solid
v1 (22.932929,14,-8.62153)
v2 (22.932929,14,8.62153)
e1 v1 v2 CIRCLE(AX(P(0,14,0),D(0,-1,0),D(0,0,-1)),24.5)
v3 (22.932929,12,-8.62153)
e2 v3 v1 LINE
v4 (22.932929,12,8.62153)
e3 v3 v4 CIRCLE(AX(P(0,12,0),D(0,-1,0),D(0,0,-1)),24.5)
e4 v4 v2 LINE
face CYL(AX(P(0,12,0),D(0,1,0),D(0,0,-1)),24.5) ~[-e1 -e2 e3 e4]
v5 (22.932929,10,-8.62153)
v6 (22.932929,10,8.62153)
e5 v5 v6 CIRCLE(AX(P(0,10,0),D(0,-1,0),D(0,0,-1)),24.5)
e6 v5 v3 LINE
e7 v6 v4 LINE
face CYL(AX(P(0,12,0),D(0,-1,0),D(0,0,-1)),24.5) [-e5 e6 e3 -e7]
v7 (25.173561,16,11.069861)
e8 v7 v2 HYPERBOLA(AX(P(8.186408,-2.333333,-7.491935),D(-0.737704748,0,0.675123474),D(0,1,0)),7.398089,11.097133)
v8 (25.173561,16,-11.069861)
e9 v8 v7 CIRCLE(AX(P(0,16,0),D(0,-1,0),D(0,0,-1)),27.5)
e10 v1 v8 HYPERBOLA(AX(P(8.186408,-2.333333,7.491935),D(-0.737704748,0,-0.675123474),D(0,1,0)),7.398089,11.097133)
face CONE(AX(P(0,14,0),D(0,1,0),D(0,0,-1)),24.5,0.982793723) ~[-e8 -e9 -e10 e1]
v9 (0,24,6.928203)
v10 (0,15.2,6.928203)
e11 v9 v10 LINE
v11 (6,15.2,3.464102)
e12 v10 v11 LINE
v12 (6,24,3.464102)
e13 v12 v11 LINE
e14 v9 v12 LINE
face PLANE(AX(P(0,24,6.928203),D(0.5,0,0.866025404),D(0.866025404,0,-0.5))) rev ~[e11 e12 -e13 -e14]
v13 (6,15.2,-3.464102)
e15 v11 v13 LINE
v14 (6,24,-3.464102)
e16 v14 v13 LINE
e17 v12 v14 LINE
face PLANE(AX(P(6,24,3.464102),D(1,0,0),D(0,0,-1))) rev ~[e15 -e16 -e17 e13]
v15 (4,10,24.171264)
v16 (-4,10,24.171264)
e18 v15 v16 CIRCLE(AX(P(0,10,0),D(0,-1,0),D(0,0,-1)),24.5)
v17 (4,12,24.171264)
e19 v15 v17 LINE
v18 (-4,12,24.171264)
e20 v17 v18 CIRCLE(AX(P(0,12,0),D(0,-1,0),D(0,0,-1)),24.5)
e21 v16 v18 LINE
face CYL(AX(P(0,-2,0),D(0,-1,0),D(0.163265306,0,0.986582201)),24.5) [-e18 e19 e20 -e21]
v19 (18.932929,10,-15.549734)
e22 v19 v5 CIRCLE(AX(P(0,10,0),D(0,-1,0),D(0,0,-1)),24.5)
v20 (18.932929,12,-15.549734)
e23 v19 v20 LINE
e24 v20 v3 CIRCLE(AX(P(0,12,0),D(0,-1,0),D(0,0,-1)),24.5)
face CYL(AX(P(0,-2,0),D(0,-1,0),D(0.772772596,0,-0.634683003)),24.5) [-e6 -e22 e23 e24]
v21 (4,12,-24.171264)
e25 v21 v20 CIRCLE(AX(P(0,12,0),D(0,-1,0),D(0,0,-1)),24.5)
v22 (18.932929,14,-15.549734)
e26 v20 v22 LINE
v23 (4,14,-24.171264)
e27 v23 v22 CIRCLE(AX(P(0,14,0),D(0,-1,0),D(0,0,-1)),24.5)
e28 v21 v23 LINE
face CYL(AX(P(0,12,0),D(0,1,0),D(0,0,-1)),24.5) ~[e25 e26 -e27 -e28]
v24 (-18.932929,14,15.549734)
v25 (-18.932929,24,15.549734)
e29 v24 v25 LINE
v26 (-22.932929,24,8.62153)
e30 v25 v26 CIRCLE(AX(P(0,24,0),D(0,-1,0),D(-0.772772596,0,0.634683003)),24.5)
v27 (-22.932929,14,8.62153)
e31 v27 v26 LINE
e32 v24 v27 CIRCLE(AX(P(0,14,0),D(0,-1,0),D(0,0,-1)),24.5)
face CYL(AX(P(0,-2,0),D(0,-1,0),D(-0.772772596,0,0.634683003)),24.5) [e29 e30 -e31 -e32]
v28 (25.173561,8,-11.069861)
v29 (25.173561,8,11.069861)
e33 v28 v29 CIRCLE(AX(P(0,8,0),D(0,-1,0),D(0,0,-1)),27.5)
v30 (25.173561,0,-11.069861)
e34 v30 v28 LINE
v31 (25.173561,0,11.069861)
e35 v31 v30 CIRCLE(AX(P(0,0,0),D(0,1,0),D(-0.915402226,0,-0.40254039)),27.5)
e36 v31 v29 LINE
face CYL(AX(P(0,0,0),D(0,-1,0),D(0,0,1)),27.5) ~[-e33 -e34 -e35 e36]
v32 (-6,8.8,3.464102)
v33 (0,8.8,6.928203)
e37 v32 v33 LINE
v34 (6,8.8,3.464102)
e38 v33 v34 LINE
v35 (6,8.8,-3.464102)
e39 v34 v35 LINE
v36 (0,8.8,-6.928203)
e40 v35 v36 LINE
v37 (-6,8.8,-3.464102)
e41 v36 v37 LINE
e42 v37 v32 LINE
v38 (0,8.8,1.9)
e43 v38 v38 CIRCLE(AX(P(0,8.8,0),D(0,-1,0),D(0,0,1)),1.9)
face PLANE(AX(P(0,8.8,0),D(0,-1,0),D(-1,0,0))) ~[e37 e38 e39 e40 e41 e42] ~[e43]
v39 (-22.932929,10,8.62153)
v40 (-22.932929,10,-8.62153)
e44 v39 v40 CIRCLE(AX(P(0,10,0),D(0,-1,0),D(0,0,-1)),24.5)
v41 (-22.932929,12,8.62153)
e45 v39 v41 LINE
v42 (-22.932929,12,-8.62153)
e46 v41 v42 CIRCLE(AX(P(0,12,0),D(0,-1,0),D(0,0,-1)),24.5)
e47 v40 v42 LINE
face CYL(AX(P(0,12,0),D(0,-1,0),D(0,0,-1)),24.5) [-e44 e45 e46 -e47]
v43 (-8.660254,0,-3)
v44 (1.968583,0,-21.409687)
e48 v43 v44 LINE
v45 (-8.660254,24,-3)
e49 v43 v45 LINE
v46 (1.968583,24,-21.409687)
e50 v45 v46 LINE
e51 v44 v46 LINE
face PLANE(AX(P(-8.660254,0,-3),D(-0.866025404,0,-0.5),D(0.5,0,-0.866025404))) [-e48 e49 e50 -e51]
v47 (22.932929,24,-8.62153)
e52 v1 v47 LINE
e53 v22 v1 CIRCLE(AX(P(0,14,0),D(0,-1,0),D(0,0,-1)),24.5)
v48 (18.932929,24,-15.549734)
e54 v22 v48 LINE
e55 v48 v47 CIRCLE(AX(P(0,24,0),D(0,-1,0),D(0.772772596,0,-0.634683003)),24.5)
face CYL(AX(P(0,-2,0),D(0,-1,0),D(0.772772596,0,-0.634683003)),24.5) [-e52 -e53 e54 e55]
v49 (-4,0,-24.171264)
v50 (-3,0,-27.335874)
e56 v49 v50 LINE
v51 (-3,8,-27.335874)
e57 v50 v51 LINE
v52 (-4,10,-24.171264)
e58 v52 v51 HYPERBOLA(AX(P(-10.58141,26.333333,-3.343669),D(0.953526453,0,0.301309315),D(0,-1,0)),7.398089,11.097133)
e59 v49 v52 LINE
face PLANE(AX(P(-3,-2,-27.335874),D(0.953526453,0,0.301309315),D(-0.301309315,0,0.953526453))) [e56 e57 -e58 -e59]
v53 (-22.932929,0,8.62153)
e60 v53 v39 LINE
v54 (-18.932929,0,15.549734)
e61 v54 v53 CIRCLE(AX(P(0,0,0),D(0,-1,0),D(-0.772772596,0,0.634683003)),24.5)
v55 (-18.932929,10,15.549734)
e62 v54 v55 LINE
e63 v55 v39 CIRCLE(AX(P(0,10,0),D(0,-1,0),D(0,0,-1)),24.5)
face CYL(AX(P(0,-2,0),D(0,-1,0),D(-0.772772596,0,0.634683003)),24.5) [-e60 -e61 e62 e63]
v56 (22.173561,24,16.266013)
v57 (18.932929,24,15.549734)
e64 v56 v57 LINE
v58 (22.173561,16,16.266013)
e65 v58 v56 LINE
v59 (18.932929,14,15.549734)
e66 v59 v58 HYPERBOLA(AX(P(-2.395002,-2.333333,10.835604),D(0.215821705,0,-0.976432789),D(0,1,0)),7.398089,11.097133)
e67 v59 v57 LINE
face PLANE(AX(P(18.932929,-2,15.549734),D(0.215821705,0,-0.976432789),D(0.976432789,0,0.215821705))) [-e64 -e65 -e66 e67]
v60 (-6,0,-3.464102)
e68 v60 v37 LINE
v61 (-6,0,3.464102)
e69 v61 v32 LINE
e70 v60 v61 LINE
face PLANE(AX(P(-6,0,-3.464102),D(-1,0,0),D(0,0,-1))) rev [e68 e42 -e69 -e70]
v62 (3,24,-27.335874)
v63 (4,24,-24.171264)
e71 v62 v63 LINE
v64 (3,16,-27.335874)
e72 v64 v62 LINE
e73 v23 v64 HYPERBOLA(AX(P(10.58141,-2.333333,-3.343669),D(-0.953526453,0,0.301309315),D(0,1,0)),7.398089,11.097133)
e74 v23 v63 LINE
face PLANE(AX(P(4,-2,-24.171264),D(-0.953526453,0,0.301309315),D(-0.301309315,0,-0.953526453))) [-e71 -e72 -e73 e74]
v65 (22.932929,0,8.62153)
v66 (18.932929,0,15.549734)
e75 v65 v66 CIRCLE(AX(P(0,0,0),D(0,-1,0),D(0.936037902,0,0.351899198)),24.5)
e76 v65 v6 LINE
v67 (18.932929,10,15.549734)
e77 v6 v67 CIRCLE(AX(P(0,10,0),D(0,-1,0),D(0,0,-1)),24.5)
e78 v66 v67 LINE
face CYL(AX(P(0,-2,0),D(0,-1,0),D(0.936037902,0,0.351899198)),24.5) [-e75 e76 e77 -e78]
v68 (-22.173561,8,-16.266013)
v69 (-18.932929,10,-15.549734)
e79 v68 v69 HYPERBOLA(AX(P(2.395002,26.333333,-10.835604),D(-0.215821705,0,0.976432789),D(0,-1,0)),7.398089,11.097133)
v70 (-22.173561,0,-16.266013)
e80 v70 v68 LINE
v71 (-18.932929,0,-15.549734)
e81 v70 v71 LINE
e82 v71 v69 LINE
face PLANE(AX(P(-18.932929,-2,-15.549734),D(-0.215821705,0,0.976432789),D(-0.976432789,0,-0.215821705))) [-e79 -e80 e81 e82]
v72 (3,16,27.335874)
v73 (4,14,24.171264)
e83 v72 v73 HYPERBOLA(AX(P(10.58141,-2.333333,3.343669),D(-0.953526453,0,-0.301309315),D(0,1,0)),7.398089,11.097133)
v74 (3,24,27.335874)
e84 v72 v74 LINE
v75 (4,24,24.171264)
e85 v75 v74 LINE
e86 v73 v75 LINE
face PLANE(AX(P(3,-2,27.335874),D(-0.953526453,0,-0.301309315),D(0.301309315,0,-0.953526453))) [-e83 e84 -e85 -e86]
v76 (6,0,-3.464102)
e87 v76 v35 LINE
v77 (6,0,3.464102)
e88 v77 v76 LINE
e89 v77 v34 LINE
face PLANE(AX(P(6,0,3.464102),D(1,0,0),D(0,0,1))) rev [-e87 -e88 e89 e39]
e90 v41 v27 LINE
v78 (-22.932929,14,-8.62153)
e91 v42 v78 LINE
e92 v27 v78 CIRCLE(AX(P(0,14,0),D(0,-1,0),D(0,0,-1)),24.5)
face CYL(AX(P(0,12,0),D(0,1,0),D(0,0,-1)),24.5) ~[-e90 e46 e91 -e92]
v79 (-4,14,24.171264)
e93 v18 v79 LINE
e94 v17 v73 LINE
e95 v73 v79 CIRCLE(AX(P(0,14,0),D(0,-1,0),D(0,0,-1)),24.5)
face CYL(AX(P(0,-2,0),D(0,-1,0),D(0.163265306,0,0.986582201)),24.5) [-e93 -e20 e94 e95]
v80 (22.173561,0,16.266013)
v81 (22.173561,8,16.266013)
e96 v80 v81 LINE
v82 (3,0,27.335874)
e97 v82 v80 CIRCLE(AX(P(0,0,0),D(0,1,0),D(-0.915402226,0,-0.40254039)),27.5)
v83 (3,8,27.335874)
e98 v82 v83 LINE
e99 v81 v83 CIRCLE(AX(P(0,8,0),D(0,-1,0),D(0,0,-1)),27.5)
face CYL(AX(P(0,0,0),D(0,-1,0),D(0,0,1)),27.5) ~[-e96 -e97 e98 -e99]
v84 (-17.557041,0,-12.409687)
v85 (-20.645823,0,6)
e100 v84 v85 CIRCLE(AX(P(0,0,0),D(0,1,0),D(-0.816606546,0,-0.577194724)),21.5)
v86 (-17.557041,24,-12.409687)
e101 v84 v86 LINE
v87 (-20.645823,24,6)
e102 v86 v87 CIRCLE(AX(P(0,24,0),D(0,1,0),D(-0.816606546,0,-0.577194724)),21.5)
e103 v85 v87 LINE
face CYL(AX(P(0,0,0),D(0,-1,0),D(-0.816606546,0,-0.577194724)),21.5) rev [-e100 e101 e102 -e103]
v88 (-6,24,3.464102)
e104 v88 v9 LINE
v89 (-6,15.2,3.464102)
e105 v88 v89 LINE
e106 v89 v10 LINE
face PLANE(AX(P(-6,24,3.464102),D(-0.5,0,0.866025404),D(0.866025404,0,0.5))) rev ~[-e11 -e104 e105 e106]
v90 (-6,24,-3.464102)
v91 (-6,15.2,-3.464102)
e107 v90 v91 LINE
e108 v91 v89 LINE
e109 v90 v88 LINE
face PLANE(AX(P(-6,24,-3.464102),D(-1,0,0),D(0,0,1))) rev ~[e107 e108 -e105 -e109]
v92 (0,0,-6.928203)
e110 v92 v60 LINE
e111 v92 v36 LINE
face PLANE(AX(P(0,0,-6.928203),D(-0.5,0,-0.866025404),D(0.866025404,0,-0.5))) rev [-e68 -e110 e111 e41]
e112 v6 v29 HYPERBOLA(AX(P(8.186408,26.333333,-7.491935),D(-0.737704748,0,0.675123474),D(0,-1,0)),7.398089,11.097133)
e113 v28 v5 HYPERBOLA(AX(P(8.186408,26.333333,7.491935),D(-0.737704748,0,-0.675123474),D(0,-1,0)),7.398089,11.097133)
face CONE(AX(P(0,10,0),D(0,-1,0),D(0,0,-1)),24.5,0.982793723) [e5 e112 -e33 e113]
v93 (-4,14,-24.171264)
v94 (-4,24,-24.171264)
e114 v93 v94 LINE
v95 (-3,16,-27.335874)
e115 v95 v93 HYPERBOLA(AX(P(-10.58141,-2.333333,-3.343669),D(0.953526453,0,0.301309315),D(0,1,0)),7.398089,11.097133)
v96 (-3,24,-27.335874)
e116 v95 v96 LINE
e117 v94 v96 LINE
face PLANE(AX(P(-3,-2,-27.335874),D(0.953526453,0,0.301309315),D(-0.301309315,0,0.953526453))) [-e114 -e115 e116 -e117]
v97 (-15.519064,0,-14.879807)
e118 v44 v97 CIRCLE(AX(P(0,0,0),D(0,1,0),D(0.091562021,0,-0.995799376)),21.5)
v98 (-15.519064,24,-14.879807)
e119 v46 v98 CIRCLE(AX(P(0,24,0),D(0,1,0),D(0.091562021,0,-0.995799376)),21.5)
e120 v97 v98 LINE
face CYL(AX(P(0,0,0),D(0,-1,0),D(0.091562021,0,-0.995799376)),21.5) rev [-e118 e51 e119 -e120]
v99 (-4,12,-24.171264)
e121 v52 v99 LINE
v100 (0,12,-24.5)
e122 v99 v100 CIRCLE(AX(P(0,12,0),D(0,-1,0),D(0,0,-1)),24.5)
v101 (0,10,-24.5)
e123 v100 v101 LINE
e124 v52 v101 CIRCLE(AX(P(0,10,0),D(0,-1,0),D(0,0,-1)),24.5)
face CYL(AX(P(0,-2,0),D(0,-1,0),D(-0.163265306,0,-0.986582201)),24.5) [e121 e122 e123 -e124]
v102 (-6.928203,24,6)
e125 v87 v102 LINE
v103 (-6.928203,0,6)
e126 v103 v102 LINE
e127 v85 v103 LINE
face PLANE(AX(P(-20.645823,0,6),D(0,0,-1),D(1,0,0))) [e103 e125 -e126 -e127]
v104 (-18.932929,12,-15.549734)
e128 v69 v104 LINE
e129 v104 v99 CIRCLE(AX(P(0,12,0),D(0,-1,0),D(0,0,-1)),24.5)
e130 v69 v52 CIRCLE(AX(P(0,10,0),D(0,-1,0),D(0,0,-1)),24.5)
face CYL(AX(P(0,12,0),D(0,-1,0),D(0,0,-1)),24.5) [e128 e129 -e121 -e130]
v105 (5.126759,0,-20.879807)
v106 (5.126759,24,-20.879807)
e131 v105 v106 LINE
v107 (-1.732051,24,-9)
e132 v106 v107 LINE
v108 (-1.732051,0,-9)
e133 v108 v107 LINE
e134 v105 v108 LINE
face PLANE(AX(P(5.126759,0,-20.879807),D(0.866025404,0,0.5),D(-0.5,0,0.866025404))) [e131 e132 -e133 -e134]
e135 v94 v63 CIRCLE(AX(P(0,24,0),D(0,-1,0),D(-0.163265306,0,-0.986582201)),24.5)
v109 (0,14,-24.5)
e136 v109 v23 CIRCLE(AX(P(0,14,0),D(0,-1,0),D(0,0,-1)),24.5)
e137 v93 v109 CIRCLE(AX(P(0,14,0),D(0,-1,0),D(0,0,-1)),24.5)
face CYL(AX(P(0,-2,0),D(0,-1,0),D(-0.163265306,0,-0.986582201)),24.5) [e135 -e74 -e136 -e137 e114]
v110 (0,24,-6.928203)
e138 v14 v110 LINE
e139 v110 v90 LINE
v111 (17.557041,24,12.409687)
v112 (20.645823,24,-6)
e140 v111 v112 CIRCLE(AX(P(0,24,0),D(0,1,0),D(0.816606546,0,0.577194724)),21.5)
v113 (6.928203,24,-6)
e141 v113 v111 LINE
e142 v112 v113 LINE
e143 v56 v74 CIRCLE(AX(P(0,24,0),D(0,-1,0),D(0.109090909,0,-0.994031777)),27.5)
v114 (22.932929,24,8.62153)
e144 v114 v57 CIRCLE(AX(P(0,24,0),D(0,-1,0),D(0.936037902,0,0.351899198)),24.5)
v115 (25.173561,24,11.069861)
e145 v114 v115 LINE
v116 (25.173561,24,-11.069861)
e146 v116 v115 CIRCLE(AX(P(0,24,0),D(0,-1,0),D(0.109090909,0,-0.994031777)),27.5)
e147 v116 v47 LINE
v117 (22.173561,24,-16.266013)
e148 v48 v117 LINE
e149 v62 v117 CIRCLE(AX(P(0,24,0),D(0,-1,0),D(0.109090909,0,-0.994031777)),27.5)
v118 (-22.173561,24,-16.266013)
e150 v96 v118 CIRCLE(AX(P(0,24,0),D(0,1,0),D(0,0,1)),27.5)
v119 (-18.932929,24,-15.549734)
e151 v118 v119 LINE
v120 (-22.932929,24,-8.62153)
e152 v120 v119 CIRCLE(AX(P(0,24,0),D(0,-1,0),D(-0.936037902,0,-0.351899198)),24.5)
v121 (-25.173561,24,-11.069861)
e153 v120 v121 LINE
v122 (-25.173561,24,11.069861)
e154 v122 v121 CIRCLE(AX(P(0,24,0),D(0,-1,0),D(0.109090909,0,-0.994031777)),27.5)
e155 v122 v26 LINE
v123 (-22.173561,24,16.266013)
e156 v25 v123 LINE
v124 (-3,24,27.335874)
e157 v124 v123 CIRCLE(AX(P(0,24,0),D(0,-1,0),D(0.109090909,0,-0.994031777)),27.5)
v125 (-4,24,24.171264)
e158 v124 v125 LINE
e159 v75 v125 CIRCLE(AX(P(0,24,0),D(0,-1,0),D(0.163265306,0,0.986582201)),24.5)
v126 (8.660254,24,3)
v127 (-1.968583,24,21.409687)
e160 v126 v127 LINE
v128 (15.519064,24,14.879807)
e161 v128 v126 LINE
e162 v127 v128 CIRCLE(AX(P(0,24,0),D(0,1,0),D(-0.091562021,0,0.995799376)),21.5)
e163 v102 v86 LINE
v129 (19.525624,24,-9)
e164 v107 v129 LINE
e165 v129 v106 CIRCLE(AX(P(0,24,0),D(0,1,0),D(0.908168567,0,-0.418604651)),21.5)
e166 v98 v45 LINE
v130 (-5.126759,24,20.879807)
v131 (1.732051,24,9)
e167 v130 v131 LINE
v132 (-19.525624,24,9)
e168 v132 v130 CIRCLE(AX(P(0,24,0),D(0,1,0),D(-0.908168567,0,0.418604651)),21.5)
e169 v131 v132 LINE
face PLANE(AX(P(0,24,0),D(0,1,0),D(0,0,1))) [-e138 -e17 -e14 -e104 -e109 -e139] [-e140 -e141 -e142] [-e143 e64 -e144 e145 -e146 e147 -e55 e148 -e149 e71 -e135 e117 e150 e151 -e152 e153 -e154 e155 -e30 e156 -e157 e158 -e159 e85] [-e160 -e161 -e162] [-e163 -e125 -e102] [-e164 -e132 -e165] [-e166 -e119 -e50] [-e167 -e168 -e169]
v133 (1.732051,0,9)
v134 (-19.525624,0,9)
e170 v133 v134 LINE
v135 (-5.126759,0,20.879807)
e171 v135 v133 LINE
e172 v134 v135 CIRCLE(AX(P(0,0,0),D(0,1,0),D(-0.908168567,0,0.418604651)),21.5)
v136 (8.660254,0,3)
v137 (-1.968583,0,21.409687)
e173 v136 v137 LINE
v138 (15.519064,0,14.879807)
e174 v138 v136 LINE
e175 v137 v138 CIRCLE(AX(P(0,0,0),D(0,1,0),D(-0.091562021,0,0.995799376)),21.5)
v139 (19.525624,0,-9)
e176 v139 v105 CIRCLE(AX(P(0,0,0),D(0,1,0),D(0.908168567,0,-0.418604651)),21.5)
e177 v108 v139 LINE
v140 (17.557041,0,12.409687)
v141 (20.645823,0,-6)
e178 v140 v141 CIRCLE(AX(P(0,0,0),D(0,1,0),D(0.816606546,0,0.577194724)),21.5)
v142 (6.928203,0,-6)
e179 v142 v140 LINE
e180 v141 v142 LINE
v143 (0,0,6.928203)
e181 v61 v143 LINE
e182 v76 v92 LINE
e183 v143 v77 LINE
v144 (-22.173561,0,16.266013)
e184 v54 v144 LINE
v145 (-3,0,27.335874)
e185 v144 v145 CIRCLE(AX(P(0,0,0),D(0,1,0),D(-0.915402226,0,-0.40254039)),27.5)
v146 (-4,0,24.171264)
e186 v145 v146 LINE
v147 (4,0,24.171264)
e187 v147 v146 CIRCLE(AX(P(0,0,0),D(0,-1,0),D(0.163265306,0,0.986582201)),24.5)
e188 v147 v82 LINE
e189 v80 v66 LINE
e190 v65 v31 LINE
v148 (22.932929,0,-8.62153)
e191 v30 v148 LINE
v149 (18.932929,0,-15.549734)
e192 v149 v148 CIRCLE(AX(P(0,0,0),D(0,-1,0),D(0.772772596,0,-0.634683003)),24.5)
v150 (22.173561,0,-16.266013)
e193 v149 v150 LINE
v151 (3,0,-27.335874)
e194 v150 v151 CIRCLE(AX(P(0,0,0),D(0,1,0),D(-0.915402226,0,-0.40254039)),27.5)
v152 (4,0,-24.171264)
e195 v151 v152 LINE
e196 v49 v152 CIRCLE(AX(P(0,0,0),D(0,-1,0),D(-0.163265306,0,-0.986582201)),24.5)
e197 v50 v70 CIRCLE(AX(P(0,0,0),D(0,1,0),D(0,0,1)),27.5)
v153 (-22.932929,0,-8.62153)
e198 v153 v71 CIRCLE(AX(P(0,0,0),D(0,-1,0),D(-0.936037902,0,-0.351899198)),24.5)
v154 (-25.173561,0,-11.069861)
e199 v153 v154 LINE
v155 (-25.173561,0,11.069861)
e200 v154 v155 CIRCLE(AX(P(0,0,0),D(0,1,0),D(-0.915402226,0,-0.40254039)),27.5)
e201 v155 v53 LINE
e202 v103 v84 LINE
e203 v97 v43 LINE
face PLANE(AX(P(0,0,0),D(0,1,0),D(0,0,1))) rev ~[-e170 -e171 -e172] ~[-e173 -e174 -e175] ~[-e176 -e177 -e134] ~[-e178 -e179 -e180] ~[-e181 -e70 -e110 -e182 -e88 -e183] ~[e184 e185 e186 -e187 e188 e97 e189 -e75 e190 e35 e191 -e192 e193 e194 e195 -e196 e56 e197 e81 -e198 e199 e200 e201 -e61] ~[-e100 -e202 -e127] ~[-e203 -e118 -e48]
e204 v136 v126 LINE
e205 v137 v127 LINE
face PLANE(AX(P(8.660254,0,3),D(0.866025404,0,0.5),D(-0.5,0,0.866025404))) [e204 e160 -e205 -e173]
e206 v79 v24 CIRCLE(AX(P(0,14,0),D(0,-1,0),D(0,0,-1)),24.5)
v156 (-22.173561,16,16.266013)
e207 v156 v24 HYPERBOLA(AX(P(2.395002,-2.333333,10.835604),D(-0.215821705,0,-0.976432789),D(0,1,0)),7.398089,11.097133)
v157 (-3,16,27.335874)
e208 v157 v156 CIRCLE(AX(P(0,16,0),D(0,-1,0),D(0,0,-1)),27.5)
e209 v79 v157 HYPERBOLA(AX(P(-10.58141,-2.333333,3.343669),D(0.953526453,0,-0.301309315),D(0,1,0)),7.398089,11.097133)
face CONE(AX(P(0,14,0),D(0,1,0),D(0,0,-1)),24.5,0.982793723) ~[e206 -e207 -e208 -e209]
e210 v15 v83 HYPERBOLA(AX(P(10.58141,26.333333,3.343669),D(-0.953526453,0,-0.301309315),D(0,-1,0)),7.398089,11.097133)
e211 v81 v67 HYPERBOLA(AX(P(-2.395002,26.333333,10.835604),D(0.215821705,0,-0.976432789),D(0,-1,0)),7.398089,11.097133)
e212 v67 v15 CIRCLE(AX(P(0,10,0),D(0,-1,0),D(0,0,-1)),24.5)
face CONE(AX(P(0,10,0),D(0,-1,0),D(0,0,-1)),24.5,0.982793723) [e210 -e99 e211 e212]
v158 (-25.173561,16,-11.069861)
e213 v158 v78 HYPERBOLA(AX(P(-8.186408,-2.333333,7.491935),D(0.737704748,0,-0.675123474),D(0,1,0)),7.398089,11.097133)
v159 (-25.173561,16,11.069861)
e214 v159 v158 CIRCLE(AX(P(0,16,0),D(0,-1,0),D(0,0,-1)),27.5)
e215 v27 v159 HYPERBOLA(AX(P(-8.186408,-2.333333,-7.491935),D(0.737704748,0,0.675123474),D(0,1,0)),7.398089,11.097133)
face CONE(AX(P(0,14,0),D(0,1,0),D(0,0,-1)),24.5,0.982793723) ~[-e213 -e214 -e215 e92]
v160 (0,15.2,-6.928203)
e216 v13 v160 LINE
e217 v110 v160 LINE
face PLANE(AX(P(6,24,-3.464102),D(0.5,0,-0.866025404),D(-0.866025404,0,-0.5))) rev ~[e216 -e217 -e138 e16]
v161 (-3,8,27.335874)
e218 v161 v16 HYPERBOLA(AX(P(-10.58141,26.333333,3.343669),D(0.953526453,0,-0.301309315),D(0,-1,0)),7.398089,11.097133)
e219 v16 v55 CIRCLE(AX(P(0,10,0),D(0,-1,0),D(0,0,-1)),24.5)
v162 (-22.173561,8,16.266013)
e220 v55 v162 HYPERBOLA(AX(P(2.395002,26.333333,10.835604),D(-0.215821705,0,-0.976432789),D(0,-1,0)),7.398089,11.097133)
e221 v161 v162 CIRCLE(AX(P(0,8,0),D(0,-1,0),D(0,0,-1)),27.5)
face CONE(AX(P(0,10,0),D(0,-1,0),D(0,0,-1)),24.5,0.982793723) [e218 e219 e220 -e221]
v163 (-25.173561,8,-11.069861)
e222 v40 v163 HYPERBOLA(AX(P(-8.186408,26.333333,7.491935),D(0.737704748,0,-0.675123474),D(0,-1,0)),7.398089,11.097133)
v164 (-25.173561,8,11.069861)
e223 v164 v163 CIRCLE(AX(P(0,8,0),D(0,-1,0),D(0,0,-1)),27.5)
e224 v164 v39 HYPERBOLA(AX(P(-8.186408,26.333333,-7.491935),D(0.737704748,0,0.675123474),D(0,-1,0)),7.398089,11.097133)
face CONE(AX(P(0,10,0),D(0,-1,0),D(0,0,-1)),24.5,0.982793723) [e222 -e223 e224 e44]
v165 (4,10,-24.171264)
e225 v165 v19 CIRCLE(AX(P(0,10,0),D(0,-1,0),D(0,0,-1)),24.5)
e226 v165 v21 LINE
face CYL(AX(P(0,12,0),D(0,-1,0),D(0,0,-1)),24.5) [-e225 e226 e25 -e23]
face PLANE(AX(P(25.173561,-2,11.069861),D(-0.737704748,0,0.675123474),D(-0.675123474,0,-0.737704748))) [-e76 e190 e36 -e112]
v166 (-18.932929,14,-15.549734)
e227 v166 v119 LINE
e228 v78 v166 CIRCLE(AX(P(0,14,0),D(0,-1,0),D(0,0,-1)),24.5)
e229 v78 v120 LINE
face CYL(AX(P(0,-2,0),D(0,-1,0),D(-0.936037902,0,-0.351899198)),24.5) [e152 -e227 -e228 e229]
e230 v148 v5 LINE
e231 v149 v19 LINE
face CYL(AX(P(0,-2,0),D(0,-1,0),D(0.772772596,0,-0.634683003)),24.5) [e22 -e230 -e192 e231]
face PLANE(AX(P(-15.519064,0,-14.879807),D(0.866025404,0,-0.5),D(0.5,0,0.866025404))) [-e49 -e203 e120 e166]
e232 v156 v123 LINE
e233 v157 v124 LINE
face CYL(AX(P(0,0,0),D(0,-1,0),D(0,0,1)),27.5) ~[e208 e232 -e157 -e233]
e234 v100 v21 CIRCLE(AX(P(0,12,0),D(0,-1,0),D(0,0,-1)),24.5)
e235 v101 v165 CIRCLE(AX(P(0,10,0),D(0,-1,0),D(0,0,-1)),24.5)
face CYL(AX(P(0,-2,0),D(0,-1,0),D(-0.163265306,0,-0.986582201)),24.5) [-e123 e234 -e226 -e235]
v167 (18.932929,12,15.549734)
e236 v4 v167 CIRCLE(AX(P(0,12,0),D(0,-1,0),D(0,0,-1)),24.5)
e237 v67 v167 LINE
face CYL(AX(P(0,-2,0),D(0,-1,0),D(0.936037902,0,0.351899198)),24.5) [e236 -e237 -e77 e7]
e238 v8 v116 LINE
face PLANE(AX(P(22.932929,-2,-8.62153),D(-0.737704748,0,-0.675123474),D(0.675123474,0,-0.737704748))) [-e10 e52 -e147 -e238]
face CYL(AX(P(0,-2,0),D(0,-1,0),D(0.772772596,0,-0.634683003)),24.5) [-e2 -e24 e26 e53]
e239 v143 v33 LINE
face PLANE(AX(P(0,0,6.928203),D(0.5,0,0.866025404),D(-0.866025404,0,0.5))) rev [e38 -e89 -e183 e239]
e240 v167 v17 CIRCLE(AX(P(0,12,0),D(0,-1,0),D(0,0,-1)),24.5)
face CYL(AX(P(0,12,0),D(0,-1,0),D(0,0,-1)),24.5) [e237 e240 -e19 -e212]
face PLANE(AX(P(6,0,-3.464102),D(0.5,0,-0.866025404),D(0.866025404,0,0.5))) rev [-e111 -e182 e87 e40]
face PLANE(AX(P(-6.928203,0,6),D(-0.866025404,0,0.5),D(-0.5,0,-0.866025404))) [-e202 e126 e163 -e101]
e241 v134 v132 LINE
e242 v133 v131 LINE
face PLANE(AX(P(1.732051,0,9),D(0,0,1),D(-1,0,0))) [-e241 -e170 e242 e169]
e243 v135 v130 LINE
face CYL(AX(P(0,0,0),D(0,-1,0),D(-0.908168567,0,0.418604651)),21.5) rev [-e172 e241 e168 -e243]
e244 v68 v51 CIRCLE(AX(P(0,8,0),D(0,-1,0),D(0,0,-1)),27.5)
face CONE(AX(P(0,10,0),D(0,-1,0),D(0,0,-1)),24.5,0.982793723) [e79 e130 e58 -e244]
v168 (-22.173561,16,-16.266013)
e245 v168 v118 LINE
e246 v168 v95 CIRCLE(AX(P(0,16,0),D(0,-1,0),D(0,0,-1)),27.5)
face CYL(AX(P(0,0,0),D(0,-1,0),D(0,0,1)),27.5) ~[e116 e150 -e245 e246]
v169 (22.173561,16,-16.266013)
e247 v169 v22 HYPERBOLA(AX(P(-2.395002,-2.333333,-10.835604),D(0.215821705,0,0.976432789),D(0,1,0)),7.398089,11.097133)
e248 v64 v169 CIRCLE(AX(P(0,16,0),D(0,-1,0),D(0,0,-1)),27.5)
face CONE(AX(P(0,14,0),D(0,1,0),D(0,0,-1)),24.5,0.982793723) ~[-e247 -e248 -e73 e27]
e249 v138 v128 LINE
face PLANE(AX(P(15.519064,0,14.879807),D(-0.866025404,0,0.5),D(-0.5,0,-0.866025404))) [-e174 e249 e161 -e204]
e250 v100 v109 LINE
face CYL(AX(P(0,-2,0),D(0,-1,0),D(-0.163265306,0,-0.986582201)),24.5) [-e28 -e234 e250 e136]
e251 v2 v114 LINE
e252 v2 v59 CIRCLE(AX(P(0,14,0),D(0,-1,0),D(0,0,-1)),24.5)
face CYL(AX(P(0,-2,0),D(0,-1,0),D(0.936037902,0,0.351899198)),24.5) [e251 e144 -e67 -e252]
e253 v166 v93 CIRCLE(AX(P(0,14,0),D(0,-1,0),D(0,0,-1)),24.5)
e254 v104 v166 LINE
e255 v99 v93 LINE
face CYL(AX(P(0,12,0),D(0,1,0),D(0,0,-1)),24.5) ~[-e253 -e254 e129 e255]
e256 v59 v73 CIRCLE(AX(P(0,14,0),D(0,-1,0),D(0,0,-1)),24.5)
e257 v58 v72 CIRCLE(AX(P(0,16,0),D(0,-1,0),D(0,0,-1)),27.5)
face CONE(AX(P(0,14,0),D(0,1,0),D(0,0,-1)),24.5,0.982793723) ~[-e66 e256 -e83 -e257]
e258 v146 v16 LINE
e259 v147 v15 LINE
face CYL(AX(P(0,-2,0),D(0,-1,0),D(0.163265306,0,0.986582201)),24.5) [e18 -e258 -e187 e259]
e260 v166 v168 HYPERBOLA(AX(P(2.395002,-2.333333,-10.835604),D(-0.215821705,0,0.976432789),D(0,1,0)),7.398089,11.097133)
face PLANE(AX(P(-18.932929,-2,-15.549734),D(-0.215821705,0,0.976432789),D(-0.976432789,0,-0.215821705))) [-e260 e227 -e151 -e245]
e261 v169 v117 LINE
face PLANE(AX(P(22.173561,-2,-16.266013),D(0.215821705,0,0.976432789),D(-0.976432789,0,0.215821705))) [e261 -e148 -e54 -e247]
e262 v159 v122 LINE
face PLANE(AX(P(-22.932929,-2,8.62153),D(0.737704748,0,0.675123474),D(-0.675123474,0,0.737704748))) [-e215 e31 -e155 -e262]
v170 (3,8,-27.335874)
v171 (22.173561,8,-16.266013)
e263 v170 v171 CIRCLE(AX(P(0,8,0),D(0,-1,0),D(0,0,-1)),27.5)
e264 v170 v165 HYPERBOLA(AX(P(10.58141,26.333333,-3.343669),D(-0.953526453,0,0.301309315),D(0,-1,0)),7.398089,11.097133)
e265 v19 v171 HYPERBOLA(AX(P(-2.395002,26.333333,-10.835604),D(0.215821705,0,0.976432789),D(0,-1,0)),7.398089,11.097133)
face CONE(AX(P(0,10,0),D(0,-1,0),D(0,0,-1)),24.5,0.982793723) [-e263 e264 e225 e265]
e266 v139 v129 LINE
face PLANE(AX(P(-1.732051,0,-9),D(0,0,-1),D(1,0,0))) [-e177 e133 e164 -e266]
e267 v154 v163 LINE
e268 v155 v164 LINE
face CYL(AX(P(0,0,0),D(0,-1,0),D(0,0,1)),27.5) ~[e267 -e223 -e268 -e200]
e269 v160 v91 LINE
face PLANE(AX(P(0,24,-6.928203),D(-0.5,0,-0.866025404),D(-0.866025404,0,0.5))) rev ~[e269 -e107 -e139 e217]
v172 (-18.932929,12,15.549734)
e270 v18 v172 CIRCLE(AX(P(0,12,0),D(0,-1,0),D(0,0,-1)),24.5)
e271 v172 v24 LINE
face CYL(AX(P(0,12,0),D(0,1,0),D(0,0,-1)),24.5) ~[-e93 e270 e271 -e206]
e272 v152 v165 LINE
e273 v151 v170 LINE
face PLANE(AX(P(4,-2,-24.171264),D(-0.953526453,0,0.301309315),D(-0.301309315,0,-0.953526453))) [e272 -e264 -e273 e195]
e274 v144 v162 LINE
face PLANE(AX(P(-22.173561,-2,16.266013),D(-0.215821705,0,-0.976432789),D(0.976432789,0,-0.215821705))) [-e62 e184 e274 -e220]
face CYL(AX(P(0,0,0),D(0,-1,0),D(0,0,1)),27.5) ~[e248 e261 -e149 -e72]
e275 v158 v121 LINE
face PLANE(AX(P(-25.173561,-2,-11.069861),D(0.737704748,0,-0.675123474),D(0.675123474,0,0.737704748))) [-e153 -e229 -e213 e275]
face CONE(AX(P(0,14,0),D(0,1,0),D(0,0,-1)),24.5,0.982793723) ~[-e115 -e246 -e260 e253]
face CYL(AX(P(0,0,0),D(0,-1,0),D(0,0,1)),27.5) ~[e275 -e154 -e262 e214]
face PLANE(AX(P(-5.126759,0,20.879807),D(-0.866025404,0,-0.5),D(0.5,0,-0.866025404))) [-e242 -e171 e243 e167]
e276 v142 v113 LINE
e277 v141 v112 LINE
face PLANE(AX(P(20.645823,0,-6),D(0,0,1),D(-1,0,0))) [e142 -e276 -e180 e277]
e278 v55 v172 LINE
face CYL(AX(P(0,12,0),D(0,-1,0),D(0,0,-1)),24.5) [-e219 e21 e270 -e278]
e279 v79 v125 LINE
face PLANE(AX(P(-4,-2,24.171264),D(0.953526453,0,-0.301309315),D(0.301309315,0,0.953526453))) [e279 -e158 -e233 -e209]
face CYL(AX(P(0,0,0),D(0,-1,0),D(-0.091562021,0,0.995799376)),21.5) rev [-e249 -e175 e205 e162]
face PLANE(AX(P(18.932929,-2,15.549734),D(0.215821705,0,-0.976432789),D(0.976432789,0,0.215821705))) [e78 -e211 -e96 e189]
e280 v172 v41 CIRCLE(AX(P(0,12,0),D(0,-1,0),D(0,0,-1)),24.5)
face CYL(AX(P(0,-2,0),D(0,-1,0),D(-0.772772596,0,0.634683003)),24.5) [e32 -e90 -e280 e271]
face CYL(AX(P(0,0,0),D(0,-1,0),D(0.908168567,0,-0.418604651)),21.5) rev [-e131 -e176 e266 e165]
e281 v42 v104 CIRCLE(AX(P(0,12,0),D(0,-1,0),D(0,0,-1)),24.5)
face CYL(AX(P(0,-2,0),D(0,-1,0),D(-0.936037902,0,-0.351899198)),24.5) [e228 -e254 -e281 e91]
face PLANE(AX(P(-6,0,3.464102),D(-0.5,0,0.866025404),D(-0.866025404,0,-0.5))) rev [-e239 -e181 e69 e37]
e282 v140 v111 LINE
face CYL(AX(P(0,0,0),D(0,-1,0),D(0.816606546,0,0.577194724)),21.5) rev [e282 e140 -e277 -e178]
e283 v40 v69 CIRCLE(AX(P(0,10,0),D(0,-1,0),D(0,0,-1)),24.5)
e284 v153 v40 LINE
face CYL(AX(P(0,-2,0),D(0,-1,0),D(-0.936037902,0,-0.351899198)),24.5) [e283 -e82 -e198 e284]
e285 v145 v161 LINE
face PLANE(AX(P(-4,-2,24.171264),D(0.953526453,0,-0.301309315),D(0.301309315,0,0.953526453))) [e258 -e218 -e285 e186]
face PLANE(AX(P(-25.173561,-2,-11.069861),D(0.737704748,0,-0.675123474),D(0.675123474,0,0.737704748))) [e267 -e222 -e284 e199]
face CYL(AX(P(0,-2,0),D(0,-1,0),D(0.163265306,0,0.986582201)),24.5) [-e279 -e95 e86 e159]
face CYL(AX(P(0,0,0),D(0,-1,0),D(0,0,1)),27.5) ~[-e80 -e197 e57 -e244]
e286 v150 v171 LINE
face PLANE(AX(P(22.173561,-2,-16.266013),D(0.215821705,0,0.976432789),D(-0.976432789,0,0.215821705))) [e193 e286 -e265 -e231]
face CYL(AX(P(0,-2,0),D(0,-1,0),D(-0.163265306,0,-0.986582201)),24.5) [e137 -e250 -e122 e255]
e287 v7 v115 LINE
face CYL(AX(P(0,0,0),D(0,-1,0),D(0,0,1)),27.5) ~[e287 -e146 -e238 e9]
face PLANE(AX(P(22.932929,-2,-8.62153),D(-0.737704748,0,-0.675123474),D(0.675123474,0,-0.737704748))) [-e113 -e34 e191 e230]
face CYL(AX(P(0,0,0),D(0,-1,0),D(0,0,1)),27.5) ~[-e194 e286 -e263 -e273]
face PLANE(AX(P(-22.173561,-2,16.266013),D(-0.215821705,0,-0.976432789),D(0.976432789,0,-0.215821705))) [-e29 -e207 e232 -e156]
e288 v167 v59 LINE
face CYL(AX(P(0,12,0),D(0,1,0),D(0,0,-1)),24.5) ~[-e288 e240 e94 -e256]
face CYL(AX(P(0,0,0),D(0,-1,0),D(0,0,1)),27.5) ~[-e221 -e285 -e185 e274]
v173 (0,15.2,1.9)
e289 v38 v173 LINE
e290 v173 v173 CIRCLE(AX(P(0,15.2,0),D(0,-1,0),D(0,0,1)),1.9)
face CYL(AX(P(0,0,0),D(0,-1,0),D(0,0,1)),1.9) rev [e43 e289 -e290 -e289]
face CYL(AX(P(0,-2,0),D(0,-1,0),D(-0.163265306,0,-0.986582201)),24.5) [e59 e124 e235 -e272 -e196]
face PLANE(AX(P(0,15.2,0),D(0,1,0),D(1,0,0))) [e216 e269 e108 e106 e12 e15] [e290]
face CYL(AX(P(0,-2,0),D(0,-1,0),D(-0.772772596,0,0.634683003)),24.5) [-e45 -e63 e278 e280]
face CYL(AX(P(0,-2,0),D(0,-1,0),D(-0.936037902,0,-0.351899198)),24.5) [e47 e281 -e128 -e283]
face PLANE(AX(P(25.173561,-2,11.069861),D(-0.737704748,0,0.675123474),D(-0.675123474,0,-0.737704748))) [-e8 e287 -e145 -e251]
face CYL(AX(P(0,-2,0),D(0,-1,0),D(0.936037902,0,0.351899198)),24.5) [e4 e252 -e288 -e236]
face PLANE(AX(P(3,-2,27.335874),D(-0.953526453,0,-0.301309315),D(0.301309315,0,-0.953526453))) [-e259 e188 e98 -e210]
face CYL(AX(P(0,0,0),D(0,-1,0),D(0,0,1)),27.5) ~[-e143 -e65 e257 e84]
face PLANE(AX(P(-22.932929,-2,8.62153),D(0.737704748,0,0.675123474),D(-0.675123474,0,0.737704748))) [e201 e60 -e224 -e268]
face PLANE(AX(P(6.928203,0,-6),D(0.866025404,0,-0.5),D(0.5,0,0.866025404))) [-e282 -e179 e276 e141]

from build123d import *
from build123d.topology import SkipClean

# Parameters (mm, degrees)
SKETCH1_R           = 27.5
BOSS_EXTRUDE1_DEPTH = 24
CUT_EXTRUDE3_START  = -2
CUT_EXTRUDE3_DEPTH  = 48.700109409
CIRPATTERN1_COUNT   = 6
CUT_EXTRUDE4_DEPTH  = 24
CIRPATTERN2_COUNT   = 6
CUT_EXTRUDE5_DEPTH  = 8.8
SKETCH6_R           = 1.9
CUT_EXTRUDE6_DEPTH  = 24


with BuildPart() as part:
    # Sketch1 → Boss-Extrude1 (new body)
    with BuildSketch(Plane(origin=(0, 0, 0), x_dir=(1, 0, 0), z_dir=(0, 1, 0))):
        with Locations(Location((0, 0, 0), (0, 0, 270))):
            Circle(SKETCH1_R)
    extrude(amount=BOSS_EXTRUDE1_DEPTH)

    # Sketch2 → Cut-Extrude3 (cut)
    with BuildSketch(Plane(origin=(0, 0, 0), x_dir=(1, 0, 0), z_dir=(0, 1, 0)).offset(CUT_EXTRUDE3_START)):
        with BuildLine():
            Line((-3, 27.335873866), (-4, 24.171263931))
            ThreePointArc((-4, 24.171263931), (0, 24.5), (4, 24.171263931))
            Line((4, 24.171263931), (3, 27.335873866))
            ThreePointArc((3, 27.335873866), (0, 27.5), (-3, 27.335873866))
        make_face()
    cut_extrude3 = extrude(amount=CUT_EXTRUDE3_DEPTH, mode=Mode.SUBTRACT)

    # CirPattern1: Cut-Extrude3 ×6 about axis
    cirpattern1_axis = Axis((0, 0, 0), (0, 1, 0))
    for i in range(1, CIRPATTERN1_COUNT):
        add(cut_extrude3.rotate(cirpattern1_axis, i * 360 / CIRPATTERN1_COUNT), mode=Mode.SUBTRACT)

    # Sketch3 → Cut-Extrude4 (cut)
    with BuildSketch(Plane(origin=(0, 0, 0), x_dir=(1, 0, 0), z_dir=(0, 1, 0))):
        with BuildLine():
            ThreePointArc((19.52562419, 9), (13.682742888, 16.584105253), (5.126758988, 20.879807046))
            Line((5.126758988, 20.879807046), (-1.732050808, 9))
            Line((-1.732050808, 9), (19.52562419, 9))
        make_face()
    cut_extrude4 = extrude(amount=CUT_EXTRUDE4_DEPTH, mode=Mode.SUBTRACT)

    # CirPattern2: Cut-Extrude4 ×6 about axis
    cirpattern2_axis = Axis((0, 0, 0), (0, 1, 0))
    for i in range(1, CIRPATTERN2_COUNT):
        add(cut_extrude4.rotate(cirpattern2_axis, i * 360 / CIRPATTERN2_COUNT), mode=Mode.SUBTRACT)

    # Sketch5 → Cut-Extrude5 (cut)
    with BuildSketch(Plane(origin=(0, 24, 0), x_dir=(1, 0, 0), z_dir=(0, 1, 0))):
        Polygon((0, 6.92820323), (-6, 3.464101615), (-6, -3.464101615), (0, -6.92820323), (6, -3.464101615), (6, 3.464101615), align=None)
    cut_extrude5 = extrude(amount=-CUT_EXTRUDE5_DEPTH, mode=Mode.SUBTRACT)

    # Sketch6 → Cut-Extrude6 (cut)
    with BuildSketch(Plane(origin=(0, 0, 0), x_dir=(1, 0, 0), z_dir=(0, 1, 0))):
        with Locations(Location((0, 0, 0), (0, 0, 270))):
            Circle(SKETCH6_R)
    extrude(amount=CUT_EXTRUDE6_DEPTH, mode=Mode.SUBTRACT)

    # Mirror1: Cut-Extrude5 across plane
    add(cut_extrude5.mirror(Plane.ZX.offset(12)), mode=Mode.SUBTRACT)

    # Sketch7 → Cut-Revolve1 (revolve, cut)
    with SkipClean():  # the faces are left unmerged after this step: merging them gives an invalid solid
        with BuildSketch(Plane.XY, mode=Mode.PRIVATE) as cut_revolve1_sk:
            Polygon((24.5, 12), (24.5, 14), (27.5, 16), (27.5, 12), align=None)
        cut_revolve1 = revolve(cut_revolve1_sk.sketch.rotate(Axis((0, 24, 0), (0, -1, 0)), 270), axis=Axis((0, 24, 0), (0, -1, 0)), mode=Mode.SUBTRACT)

    # Mirror2: Cut-Revolve1 across plane
    with SkipClean():  # the faces are left unmerged after this step: merging them gives an invalid solid
        add(cut_revolve1.mirror(Plane.ZX.offset(12)), mode=Mode.SUBTRACT)


solid = part.part
